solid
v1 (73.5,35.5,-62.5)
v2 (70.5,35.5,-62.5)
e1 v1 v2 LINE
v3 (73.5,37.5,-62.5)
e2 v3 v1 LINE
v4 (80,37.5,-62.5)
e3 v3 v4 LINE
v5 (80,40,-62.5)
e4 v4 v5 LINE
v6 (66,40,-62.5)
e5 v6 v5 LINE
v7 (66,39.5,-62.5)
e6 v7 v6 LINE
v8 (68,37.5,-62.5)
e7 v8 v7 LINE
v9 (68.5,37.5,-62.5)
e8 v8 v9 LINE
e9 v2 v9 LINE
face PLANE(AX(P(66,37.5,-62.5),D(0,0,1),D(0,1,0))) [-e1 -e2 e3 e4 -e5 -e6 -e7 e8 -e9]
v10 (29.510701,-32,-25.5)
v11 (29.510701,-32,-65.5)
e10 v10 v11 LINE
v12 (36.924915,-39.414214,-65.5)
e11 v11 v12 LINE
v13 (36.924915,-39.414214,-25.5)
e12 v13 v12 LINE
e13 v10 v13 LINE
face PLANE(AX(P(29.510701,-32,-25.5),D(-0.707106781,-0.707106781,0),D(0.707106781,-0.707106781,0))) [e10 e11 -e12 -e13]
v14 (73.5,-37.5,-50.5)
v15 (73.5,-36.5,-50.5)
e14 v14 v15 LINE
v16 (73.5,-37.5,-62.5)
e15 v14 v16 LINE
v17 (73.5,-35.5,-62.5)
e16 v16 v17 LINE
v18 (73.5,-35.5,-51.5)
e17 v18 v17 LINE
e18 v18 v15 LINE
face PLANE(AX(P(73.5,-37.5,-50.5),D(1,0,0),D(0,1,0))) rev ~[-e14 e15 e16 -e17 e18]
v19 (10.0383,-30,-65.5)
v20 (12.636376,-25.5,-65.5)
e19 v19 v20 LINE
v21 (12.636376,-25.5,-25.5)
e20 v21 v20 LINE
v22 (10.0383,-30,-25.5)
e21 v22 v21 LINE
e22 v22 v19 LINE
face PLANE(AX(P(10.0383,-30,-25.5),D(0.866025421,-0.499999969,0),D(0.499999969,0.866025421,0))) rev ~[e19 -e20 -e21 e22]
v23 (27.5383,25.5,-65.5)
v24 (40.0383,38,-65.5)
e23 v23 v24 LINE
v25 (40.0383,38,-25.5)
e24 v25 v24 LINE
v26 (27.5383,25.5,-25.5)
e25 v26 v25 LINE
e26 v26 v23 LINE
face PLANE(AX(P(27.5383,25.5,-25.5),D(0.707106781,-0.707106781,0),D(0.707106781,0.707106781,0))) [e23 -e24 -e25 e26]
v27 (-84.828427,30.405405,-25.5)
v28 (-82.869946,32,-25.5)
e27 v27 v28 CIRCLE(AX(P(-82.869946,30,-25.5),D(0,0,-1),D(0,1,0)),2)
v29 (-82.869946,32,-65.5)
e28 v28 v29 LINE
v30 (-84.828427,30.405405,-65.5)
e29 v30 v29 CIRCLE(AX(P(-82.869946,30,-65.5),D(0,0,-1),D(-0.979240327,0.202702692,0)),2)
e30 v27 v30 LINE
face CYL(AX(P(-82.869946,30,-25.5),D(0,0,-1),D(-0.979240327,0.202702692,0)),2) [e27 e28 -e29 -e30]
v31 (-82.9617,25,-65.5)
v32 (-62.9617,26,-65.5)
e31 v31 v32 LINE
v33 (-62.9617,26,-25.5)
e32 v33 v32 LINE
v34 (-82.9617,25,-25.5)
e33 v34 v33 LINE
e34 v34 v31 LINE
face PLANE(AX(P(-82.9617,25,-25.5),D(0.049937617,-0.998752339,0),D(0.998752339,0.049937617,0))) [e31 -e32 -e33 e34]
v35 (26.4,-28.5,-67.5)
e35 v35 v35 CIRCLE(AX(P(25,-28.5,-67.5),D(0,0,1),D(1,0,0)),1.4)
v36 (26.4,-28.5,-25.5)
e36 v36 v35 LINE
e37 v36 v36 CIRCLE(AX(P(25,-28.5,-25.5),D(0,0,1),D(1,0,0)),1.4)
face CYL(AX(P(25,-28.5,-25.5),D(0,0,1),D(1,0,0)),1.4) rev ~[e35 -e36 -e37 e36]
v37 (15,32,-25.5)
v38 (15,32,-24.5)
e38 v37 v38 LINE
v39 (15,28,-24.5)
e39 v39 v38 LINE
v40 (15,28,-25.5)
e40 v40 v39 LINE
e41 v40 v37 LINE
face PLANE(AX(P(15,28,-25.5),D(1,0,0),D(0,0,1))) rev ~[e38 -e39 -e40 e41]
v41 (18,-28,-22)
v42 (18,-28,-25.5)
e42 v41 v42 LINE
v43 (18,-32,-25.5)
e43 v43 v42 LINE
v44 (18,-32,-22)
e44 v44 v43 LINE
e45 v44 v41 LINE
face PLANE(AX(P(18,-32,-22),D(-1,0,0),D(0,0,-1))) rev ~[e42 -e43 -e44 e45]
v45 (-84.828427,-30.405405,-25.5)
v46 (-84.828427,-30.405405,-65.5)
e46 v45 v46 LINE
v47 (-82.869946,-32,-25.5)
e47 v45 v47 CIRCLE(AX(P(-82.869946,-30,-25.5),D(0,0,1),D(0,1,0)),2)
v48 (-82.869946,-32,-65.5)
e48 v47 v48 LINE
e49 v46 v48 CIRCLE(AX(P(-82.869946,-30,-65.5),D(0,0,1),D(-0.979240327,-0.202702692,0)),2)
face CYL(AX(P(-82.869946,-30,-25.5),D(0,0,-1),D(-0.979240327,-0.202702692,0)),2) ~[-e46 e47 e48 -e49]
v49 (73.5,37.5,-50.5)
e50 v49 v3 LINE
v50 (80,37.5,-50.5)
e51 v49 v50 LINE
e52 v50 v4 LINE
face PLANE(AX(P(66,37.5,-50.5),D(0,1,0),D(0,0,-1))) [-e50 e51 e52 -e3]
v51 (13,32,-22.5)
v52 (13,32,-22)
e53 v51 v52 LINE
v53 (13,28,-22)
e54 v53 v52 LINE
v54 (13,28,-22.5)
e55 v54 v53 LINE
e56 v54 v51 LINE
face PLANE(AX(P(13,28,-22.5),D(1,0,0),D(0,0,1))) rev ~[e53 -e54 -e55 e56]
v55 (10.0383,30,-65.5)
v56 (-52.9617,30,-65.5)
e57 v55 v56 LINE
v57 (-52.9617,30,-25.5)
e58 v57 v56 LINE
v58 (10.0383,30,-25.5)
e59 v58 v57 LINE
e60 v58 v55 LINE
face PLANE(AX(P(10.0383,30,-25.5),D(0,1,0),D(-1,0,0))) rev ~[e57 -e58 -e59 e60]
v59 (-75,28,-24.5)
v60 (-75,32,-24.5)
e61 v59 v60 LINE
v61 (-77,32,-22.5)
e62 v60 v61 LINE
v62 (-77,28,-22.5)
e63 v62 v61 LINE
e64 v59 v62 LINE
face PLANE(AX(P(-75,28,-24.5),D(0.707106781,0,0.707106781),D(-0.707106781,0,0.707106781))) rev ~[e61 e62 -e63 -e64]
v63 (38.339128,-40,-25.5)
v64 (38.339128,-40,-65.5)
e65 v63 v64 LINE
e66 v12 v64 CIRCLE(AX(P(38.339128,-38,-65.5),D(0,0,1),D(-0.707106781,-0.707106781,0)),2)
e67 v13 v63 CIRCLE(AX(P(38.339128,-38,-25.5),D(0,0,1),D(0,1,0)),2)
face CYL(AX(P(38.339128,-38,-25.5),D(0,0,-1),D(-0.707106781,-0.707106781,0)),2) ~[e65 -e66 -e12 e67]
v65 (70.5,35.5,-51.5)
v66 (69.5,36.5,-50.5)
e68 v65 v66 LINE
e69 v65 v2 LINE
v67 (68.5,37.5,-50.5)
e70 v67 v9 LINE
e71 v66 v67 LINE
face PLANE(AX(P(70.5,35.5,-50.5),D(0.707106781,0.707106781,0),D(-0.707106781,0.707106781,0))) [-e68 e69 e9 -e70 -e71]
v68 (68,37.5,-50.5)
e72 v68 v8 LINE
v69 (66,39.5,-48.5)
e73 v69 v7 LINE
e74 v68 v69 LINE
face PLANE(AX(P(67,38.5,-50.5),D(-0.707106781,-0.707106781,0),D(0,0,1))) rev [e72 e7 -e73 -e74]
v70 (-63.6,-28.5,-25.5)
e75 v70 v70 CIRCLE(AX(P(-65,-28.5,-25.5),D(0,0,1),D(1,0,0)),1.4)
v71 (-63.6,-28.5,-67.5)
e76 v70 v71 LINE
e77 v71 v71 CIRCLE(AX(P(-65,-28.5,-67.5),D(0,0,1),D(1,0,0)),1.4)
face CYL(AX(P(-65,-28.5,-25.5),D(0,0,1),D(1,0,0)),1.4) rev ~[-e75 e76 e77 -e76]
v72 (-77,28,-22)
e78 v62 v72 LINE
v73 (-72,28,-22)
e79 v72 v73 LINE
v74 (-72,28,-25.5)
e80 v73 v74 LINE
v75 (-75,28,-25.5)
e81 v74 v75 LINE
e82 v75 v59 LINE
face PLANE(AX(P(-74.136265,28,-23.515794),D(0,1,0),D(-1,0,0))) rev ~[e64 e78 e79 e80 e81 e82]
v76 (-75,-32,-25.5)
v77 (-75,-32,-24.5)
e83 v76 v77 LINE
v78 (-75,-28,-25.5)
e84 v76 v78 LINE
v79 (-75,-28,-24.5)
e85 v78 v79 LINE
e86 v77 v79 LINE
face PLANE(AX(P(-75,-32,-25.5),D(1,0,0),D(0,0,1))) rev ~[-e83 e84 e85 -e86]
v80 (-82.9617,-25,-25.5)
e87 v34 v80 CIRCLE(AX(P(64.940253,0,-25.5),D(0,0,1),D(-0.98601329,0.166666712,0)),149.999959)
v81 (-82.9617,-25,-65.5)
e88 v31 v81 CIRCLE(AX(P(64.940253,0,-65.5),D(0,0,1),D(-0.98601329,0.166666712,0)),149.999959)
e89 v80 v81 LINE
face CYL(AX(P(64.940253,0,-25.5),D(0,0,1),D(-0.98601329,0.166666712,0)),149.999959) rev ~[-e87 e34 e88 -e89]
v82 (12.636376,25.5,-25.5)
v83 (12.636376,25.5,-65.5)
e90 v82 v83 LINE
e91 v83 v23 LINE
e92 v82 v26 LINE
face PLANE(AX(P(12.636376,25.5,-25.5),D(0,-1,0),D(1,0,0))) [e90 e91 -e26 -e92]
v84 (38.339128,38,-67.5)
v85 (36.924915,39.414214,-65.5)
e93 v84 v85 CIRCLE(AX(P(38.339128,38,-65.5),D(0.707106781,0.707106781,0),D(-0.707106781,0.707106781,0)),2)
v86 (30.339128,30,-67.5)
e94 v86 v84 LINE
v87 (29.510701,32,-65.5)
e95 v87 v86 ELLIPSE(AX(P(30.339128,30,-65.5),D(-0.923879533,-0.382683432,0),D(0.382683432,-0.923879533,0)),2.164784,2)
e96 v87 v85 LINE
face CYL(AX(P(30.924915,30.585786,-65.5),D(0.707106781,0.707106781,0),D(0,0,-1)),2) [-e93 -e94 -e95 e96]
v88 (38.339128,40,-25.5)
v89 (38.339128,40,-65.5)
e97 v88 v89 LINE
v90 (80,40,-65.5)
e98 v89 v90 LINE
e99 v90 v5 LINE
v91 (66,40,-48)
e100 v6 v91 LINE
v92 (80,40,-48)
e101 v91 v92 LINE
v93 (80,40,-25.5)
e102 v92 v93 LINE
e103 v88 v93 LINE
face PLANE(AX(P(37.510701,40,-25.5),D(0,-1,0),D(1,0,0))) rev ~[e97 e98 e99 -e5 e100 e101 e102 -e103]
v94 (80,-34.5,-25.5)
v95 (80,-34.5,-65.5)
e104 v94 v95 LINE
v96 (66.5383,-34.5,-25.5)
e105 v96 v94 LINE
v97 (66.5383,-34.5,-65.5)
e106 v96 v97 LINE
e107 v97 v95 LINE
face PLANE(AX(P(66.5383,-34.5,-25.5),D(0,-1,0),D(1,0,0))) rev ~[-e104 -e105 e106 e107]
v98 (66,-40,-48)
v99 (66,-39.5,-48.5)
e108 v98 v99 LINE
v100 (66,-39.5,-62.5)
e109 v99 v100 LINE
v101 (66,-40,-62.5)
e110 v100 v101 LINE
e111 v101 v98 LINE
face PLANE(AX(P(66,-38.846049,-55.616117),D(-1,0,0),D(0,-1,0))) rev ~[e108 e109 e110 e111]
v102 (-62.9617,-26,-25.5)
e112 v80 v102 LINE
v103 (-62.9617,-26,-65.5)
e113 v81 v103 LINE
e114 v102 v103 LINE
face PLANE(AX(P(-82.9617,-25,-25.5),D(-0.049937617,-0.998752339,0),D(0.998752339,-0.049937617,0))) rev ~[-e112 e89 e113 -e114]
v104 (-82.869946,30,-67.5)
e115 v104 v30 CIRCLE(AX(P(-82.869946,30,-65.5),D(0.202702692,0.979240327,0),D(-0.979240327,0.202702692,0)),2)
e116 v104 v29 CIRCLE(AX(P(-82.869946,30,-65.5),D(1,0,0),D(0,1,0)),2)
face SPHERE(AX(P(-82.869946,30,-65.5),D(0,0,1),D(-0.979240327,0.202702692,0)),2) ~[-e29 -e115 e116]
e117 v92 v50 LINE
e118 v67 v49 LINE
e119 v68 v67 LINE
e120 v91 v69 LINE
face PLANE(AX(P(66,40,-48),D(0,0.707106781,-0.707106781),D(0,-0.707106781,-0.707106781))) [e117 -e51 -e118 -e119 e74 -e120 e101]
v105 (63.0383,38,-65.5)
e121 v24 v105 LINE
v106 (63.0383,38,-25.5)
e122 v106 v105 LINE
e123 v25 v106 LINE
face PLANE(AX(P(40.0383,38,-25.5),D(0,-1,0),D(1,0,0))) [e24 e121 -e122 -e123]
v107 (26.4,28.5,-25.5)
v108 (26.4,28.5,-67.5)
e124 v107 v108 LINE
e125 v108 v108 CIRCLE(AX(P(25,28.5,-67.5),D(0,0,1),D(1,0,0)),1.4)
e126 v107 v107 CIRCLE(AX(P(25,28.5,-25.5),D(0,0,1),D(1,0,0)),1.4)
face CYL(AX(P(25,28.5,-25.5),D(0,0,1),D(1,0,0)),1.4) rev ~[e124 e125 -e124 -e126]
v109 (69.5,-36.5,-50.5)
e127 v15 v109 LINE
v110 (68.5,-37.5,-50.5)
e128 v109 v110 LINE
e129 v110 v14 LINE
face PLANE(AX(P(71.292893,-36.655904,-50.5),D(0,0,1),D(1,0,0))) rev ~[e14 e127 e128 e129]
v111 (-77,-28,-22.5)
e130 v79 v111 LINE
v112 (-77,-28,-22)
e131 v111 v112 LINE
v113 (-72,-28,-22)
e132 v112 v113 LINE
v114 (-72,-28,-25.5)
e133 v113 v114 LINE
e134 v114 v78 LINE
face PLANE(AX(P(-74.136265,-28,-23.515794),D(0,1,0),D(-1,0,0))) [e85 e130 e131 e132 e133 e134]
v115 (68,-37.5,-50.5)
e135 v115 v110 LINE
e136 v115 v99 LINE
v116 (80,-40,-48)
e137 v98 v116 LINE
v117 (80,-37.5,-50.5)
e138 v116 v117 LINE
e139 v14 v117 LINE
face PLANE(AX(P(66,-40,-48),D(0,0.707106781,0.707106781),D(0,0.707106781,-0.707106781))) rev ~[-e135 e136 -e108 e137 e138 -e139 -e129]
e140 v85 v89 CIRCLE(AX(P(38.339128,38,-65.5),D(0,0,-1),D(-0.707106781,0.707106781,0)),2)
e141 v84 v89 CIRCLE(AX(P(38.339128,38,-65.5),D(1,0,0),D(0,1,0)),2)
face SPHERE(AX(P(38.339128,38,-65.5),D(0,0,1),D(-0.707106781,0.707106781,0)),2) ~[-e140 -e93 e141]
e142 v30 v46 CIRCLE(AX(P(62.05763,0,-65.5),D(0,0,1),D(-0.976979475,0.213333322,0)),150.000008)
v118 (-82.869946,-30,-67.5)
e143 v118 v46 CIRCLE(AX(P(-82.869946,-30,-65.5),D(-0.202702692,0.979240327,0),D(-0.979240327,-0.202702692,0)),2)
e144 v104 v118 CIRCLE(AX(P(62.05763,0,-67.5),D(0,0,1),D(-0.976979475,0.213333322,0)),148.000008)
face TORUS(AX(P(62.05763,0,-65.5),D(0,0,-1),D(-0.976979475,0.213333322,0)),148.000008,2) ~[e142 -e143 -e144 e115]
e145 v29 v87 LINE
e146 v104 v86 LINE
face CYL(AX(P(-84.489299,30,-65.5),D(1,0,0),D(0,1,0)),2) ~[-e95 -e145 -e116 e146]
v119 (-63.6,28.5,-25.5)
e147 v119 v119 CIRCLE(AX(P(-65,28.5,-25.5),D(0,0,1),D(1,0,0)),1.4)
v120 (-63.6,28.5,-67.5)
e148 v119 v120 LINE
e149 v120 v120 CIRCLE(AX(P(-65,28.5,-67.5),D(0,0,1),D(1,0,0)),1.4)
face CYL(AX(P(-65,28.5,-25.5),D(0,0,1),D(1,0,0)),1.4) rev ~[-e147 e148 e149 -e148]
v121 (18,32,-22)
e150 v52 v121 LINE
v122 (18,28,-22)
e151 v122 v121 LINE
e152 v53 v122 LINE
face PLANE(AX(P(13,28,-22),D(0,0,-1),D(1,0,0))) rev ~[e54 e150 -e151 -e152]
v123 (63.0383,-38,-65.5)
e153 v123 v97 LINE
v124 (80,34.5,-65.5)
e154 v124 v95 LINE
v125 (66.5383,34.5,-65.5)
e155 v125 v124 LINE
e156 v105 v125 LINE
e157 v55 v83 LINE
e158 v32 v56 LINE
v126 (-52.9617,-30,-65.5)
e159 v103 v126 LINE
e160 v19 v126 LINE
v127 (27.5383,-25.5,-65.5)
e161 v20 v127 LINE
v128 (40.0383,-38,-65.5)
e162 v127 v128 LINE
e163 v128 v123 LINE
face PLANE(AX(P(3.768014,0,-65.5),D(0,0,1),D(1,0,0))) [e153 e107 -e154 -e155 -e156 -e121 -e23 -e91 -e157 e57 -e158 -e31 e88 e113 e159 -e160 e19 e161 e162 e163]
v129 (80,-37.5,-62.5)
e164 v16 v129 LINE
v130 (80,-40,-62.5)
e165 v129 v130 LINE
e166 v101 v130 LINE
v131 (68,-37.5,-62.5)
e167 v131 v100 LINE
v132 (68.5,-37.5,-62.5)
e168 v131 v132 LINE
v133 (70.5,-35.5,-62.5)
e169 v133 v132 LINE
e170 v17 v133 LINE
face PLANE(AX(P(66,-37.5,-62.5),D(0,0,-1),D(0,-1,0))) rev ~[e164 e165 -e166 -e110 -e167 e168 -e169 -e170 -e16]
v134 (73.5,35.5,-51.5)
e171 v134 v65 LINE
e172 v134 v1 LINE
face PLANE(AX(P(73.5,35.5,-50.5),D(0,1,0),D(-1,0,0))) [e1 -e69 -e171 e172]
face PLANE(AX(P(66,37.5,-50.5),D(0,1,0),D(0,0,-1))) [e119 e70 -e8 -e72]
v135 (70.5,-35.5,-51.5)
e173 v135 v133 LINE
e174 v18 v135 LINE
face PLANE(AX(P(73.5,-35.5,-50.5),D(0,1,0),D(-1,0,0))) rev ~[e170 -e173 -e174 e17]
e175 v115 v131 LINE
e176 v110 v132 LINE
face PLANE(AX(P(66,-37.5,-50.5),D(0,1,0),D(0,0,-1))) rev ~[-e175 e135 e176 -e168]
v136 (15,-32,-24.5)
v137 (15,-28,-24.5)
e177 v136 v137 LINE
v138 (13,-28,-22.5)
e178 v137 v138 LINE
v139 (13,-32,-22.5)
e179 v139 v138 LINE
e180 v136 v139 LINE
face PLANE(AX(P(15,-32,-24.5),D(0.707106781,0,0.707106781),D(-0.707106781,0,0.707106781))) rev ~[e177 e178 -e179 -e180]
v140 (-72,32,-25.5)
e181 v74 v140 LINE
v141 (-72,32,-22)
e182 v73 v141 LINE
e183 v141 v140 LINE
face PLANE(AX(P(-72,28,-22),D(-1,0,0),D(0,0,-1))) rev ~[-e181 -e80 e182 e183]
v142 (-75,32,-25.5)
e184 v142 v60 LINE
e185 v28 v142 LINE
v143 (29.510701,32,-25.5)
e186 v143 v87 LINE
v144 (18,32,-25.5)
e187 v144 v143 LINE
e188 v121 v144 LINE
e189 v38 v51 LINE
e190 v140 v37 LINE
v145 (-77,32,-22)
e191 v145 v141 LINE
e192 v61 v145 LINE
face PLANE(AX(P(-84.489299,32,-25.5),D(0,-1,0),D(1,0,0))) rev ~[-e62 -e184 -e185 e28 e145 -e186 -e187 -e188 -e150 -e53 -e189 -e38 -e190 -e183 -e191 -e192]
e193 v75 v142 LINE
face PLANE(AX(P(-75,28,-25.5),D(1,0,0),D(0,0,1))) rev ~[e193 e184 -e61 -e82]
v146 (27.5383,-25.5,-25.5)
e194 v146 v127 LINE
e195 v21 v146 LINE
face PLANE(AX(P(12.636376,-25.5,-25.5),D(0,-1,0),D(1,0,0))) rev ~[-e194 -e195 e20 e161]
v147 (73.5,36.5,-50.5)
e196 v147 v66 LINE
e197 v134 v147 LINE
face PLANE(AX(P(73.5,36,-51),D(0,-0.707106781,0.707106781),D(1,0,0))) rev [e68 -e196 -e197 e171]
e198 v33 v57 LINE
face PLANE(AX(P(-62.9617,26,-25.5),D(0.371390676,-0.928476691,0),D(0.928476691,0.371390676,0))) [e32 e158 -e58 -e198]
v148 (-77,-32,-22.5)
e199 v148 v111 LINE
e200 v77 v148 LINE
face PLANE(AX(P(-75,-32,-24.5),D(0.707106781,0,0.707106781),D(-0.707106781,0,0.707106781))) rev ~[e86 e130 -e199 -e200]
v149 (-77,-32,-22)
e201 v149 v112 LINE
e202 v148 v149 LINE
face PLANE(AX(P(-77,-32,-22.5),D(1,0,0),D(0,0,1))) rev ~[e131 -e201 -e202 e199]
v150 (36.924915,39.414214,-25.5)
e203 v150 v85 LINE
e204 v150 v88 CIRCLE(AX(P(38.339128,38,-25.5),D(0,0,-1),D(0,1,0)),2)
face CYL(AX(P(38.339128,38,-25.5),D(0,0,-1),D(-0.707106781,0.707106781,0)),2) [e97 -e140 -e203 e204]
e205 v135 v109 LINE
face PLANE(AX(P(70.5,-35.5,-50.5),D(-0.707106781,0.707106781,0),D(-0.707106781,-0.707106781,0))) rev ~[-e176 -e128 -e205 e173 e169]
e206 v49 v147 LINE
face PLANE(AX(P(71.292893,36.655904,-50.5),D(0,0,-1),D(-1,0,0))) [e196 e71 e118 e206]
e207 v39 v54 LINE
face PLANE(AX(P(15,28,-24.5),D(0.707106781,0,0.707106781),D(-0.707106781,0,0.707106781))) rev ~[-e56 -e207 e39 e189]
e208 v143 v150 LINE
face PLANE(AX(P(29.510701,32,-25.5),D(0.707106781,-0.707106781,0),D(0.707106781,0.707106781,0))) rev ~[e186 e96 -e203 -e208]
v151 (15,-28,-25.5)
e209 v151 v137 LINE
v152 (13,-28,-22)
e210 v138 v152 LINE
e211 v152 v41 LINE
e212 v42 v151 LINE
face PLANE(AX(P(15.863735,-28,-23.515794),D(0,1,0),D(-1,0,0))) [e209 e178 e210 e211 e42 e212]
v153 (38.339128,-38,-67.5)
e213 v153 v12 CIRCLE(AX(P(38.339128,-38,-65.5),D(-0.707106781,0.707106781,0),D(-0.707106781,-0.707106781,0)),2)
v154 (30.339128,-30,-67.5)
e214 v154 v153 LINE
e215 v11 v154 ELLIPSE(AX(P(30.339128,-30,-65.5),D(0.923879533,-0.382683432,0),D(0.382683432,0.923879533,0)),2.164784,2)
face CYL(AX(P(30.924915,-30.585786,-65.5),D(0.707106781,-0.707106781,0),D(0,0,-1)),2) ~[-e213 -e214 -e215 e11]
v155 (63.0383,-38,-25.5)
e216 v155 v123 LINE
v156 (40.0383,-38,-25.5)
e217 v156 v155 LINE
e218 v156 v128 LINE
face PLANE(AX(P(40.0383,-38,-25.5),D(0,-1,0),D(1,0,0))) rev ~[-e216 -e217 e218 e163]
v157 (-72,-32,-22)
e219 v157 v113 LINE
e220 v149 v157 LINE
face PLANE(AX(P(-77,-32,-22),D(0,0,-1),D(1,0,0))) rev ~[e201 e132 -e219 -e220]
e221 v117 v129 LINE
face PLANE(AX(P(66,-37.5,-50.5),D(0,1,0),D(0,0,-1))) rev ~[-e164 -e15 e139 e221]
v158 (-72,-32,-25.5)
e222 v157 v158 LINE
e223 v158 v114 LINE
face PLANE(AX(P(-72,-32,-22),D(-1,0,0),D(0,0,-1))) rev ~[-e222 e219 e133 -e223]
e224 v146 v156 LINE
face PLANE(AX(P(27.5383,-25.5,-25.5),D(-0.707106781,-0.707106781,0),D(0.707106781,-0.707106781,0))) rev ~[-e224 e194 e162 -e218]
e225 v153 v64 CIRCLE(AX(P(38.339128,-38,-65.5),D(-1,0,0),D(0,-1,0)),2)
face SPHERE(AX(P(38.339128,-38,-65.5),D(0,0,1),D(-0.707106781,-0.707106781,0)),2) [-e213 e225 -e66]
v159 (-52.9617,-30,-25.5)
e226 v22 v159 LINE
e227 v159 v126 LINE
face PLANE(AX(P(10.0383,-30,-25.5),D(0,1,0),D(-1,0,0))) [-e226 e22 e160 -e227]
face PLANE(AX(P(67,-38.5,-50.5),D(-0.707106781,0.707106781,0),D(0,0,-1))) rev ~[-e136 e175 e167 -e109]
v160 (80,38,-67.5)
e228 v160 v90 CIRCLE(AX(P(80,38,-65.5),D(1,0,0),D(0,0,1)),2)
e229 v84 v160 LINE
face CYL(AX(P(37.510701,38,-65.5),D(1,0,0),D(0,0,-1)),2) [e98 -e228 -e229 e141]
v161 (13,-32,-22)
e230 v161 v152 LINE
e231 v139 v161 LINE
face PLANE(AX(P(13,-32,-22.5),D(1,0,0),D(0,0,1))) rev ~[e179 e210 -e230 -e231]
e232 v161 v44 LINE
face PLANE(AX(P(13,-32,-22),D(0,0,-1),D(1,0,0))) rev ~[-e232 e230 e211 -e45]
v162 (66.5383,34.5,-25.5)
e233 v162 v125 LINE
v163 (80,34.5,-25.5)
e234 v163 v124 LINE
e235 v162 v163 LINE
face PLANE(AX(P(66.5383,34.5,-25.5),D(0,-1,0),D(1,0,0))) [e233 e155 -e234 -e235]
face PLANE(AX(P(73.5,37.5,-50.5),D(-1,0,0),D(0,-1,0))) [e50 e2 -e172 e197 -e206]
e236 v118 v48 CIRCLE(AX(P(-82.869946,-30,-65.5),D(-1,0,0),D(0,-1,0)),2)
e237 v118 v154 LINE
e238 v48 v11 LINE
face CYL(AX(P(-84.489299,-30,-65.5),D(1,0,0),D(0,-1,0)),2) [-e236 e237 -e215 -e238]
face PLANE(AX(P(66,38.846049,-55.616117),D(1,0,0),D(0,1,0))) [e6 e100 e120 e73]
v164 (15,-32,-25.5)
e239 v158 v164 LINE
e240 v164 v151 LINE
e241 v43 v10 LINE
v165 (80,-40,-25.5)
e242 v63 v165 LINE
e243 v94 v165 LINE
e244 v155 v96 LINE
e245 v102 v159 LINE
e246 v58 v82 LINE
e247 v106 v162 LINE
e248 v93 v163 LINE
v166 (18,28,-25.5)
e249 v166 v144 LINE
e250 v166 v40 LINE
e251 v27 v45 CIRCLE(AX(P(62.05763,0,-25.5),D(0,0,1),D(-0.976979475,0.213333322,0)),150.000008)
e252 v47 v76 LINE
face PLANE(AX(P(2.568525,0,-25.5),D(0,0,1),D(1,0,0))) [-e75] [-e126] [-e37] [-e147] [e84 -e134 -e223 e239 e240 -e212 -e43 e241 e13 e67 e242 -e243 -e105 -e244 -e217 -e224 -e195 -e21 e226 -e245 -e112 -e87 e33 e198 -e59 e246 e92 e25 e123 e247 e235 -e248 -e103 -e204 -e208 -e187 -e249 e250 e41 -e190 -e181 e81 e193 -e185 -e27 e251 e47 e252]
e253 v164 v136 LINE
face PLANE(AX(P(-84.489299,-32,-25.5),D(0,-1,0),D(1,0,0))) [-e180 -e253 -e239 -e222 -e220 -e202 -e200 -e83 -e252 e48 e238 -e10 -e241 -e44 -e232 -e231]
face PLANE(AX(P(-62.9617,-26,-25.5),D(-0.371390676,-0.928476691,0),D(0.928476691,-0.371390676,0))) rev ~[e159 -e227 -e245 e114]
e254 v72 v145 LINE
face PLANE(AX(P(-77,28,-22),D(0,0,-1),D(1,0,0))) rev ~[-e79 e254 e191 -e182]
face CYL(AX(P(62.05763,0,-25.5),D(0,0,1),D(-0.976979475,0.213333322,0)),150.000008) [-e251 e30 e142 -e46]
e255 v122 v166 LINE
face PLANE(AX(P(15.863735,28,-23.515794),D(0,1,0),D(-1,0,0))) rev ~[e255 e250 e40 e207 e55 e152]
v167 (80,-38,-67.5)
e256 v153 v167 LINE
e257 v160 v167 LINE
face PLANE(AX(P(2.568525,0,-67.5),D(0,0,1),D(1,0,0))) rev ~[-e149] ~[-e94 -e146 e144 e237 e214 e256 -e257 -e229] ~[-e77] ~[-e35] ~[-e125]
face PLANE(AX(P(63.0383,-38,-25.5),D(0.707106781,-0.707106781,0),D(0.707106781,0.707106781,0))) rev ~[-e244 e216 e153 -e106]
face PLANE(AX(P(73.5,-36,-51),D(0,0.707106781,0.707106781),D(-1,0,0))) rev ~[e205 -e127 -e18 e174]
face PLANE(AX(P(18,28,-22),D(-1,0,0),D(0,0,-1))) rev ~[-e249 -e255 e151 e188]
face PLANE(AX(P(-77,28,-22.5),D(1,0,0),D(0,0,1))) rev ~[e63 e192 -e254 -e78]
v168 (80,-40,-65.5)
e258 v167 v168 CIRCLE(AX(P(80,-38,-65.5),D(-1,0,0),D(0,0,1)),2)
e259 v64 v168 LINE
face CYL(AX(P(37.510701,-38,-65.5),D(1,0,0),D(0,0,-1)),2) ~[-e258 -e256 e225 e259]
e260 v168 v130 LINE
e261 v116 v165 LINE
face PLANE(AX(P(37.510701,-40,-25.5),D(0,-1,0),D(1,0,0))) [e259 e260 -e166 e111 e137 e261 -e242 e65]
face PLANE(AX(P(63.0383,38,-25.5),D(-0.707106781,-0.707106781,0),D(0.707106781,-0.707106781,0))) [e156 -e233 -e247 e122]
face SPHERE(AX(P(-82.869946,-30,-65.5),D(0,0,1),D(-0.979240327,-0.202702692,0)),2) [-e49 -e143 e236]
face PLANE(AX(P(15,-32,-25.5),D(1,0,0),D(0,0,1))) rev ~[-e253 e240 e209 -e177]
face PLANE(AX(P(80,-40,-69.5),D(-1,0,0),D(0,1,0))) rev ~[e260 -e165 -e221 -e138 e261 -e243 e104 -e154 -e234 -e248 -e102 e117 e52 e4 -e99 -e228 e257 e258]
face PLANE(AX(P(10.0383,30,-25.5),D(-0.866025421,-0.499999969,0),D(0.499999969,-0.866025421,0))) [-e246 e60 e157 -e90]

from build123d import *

# Parameters (mm, degrees)
EXTRUDE136072_DEPTH                     = 12
CHAMFER002_SIZE                         = 1
EXTRUDE136071_DEPTH                     = 15
CHAMFER001_SIZE                         = 2
SKETCH295_R                             = 1.4
EXTRUDE136074_DEPTH                     = 50
EXTRUDE136076_DEPTH                     = 4
EXTRUDE136076_ONTO_SKETCH296_ROLL_ANGLE = 90
EXTRUDE136075_DEPTH                     = 4
EXTRUDE136075_ONTO_SKETCH296_ROLL_ANGLE = 90
BOX022_W                                = 25
BOX022_H                                = 80
BOX022_DEPTH                            = 51
EXTRUDE136056_DEPTH                     = 40
EXTRUDE136055_DEPTH                     = 42
FILLET_R                                = 2


with BuildPart() as chamfer002:
    # Sketch293 → Extrude136072 (new body)
    with BuildSketch(Plane.XY):
        Polygon((0, 37.5), (5, 37.5), (5, 35.5), (2, 35.5), align=None)
        Polygon((0, -37.5), (5, -37.5), (5, -35.5), (2, -35.5), align=None)
    extrude(amount=-EXTRUDE136072_DEPTH)


with BuildPart() as chamfer002_1:
    # Extrude136072 placement: moved
    add(chamfer002.part.moved(Location((4, 0, 6))))

    # Chamfer002
    chamfer002_edges = [chamfer002_1.edges().sort_by_distance(p)[0] for p in [
        (7.5, -35.5, 6),
        (7.5, 35.5, 6),
    ]]
    chamfer(chamfer002_edges, length=CHAMFER002_SIZE)


with BuildPart() as fusion034004041070:
    # Sketch292 → Extrude136071 (new body)
    with BuildSketch(Plane.YZ):
        Polygon((-40, 8.5), (-37.5, 6), (-37.5, -6), (-40, -6), align=None)
        Polygon((40, 8.5), (37.5, 6), (37.5, -6), (40, -6), align=None)
    extrude(amount=EXTRUDE136071_DEPTH)

    # Chamfer001
    chamfer001_edges = [fusion034004041070.edges().sort_by_distance(p)[0] for p in [
        (0, 37.5, 0),
        (0, -37.5, 0),
    ]]
    chamfer(chamfer001_edges, length=CHAMFER001_SIZE)


with BuildPart() as fusion034004041070_1:
    # Chamfer001 placement: moved
    add(fusion034004041070.part.moved(Location((1.5, 0, 0))))

    # Fusion034004041070: union Chamfer002
    add(chamfer002_1.part)


with BuildPart() as fusion034004041070_2:
    # Fusion034004041070 placement: moved
    add(fusion034004041070_1.part.moved(Location((64.5, 0, -31))))


with BuildPart() as fusion034004041071:
    # Sketch295 → Extrude136074 (new body)
    with BuildSketch(Plane.XY):
        with Locations((-65, 28.5)):
            Circle(SKETCH295_R)
        with Locations((25, 28.5)):
            Circle(SKETCH295_R)
        with Locations((-65, -28.5)):
            Circle(SKETCH295_R)
        with Locations((25, -28.5)):
            Circle(SKETCH295_R)
    extrude(amount=-EXTRUDE136074_DEPTH)

    # Fusion034004041071: union Fusion034004041070
    add(fusion034004041070_2.part)


with BuildPart() as extrude136076:
    # Sketch296 as drawn → Extrude136076 (new)
    with BuildSketch(Plane.XY):
        Polygon((-77, 3.5), (-72, 3.5), (-72, 0), (-75, 0), (-75, 1), (-77, 3), align=None)
        Polygon((15, 0), (15, 1), (13, 3), (13, 3.5), (18, 3.5), (18, 0), align=None)
    extrude(amount=-EXTRUDE136076_DEPTH)


with BuildPart() as extrude136076_1:
    # Extrude136076 onto Sketch296 roll: moved
    add(extrude136076.part.rotate(Axis((0, 0, 0), (1, 0, 0)), EXTRUDE136076_ONTO_SKETCH296_ROLL_ANGLE))


with BuildPart() as extrude136076_2:
    # Extrude136076 onto Sketch296 placement: moved
    add(extrude136076_1.part.moved(Location((0, -2, 0))))


with BuildPart() as extrude136076_3:
    # Extrude136076 placement: moved
    add(extrude136076_2.part.moved(Location((0, -30, 0))))


with BuildPart() as fusion034004041067:
    # Sketch296 as drawn → Extrude136075 (new)
    with BuildSketch(Plane.XY):
        Polygon((-77, 3.5), (-72, 3.5), (-72, 0), (-75, 0), (-75, 1), (-77, 3), align=None)
        Polygon((15, 0), (15, 1), (13, 3), (13, 3.5), (18, 3.5), (18, 0), align=None)
    extrude(amount=-EXTRUDE136075_DEPTH)


with BuildPart() as fusion034004041067_1:
    # Extrude136075 onto Sketch296 roll: moved
    add(fusion034004041067.part.rotate(Axis((0, 0, 0), (1, 0, 0)), EXTRUDE136075_ONTO_SKETCH296_ROLL_ANGLE))


with BuildPart() as fusion034004041067_2:
    # Extrude136075 onto Sketch296 placement: moved
    add(fusion034004041067_1.part.moved(Location((0, -2, 0))))


with BuildPart() as fusion034004041067_3:
    # Extrude136075 placement: moved
    add(fusion034004041067_2.part.moved(Location((0, 30, 0))))

    # Fusion034004041067: union Extrude136076
    add(extrude136076_3.part)


with BuildPart() as cube019:
    # Box022 → Box022 (new body)
    with BuildSketch(Plane(origin=(80, -40, -44), x_dir=(1, 0, 0), z_dir=(0, 0, 1))):
        with Locations((12.5, 40)):
            Rectangle(BOX022_W, BOX022_H)
    extrude(amount=BOX022_DEPTH)


with BuildPart() as extrude136056:
    # Sketch277 → Extrude136056 (new body)
    with BuildSketch(Plane.XY):
        with BuildLine():
            ThreePointArc((81.0383, -34.5), (85.059706, 0), (81.0383, 34.5))
            Line((66.5383, 34.5), (81.0383, 34.5))
            Line((63.0383, 38), (66.5383, 34.5))
            Line((40.0383, 38), (63.0383, 38))
            Line((27.5383, 25.5), (40.0383, 38))
            Line((12.636376, 25.5), (27.5383, 25.5))
            Line((10.0383, 30), (12.636376, 25.5))
            Line((10.0383, 30), (-52.9617, 30))
            Line((-62.9617, 26), (-52.9617, 30))
            Line((-82.9617, 25), (-62.9617, 26))
            ThreePointArc((-82.9617, 25), (-85.059706, 0), (-82.9617, -25))
            Line((-82.9617, -25), (-62.9617, -26))
            Line((-62.9617, -26), (-52.9617, -30))
            Line((10.0383, -30), (-52.9617, -30))
            Line((10.0383, -30), (12.636376, -25.5))
            Line((12.636376, -25.5), (27.5383, -25.5))
            Line((27.5383, -25.5), (40.0383, -38))
            Line((40.0383, -38), (63.0383, -38))
            Line((63.0383, -38), (66.5383, -34.5))
            Line((66.5383, -34.5), (81.0383, -34.5))
        make_face()
    extrude(amount=-EXTRUDE136056_DEPTH)


with BuildPart() as batteryboxfillet:
    # Sketch276 → Extrude136055 (new body)
    with BuildSketch(Plane.XY):
        with BuildLine():
            ThreePointArc((-84.489299, 32), (-87.942378, 0), (-84.489299, -32))
            Line((-84.489299, -32), (29.510701, -32))
            Line((29.510701, -32), (37.510701, -40))
            Line((37.510701, -40), (82.510701, -40))
            ThreePointArc((82.510701, -40), (87.942378, 0), (82.510701, 40))
            Line((37.510701, 40), (82.510701, 40))
            Line((29.510701, 32), (37.510701, 40))
            Line((-84.489299, 32), (29.510701, 32))
        make_face()
    extrude(amount=-EXTRUDE136055_DEPTH)

    # Cut009010006006006005016: cut Extrude136056
    add(extrude136056.part, mode=Mode.SUBTRACT)

    # Cut009010006006006005021: cut Cube019
    add(cube019.part, mode=Mode.SUBTRACT)

    # Fusion034004041068: union Fusion034004041067
    add(fusion034004041067_3.part)

    # Cut009010006006006005024: cut Fusion034004041071
    add(fusion034004041071.part, mode=Mode.SUBTRACT)

    # Fillet
    fillet_edges = [batteryboxfillet.edges().sort_by_distance(p)[0] for p in [
        (-84.489299, 32, -21),
        (-84.489299, -32, -21),
        (-87.942378, 0, -42),
        (-27.489299, 32, -42),
        (-27.489299, -32, -42),
        (33.510701, 36, -42),
        (58.755351, 40, -42),
        (33.510701, -36, -42),
        (58.755351, -40, -42),
        (37.510701, 40, -21),
        (37.510701, -40, -21),
    ]]
    fillet(fillet_edges, radius=FILLET_R)


with BuildPart() as batteryboxfillet_1:
    # Fillet placement: moved
    add(batteryboxfillet.part.moved(Location((0, 0, -25.5))))


solid = batteryboxfillet_1.part
